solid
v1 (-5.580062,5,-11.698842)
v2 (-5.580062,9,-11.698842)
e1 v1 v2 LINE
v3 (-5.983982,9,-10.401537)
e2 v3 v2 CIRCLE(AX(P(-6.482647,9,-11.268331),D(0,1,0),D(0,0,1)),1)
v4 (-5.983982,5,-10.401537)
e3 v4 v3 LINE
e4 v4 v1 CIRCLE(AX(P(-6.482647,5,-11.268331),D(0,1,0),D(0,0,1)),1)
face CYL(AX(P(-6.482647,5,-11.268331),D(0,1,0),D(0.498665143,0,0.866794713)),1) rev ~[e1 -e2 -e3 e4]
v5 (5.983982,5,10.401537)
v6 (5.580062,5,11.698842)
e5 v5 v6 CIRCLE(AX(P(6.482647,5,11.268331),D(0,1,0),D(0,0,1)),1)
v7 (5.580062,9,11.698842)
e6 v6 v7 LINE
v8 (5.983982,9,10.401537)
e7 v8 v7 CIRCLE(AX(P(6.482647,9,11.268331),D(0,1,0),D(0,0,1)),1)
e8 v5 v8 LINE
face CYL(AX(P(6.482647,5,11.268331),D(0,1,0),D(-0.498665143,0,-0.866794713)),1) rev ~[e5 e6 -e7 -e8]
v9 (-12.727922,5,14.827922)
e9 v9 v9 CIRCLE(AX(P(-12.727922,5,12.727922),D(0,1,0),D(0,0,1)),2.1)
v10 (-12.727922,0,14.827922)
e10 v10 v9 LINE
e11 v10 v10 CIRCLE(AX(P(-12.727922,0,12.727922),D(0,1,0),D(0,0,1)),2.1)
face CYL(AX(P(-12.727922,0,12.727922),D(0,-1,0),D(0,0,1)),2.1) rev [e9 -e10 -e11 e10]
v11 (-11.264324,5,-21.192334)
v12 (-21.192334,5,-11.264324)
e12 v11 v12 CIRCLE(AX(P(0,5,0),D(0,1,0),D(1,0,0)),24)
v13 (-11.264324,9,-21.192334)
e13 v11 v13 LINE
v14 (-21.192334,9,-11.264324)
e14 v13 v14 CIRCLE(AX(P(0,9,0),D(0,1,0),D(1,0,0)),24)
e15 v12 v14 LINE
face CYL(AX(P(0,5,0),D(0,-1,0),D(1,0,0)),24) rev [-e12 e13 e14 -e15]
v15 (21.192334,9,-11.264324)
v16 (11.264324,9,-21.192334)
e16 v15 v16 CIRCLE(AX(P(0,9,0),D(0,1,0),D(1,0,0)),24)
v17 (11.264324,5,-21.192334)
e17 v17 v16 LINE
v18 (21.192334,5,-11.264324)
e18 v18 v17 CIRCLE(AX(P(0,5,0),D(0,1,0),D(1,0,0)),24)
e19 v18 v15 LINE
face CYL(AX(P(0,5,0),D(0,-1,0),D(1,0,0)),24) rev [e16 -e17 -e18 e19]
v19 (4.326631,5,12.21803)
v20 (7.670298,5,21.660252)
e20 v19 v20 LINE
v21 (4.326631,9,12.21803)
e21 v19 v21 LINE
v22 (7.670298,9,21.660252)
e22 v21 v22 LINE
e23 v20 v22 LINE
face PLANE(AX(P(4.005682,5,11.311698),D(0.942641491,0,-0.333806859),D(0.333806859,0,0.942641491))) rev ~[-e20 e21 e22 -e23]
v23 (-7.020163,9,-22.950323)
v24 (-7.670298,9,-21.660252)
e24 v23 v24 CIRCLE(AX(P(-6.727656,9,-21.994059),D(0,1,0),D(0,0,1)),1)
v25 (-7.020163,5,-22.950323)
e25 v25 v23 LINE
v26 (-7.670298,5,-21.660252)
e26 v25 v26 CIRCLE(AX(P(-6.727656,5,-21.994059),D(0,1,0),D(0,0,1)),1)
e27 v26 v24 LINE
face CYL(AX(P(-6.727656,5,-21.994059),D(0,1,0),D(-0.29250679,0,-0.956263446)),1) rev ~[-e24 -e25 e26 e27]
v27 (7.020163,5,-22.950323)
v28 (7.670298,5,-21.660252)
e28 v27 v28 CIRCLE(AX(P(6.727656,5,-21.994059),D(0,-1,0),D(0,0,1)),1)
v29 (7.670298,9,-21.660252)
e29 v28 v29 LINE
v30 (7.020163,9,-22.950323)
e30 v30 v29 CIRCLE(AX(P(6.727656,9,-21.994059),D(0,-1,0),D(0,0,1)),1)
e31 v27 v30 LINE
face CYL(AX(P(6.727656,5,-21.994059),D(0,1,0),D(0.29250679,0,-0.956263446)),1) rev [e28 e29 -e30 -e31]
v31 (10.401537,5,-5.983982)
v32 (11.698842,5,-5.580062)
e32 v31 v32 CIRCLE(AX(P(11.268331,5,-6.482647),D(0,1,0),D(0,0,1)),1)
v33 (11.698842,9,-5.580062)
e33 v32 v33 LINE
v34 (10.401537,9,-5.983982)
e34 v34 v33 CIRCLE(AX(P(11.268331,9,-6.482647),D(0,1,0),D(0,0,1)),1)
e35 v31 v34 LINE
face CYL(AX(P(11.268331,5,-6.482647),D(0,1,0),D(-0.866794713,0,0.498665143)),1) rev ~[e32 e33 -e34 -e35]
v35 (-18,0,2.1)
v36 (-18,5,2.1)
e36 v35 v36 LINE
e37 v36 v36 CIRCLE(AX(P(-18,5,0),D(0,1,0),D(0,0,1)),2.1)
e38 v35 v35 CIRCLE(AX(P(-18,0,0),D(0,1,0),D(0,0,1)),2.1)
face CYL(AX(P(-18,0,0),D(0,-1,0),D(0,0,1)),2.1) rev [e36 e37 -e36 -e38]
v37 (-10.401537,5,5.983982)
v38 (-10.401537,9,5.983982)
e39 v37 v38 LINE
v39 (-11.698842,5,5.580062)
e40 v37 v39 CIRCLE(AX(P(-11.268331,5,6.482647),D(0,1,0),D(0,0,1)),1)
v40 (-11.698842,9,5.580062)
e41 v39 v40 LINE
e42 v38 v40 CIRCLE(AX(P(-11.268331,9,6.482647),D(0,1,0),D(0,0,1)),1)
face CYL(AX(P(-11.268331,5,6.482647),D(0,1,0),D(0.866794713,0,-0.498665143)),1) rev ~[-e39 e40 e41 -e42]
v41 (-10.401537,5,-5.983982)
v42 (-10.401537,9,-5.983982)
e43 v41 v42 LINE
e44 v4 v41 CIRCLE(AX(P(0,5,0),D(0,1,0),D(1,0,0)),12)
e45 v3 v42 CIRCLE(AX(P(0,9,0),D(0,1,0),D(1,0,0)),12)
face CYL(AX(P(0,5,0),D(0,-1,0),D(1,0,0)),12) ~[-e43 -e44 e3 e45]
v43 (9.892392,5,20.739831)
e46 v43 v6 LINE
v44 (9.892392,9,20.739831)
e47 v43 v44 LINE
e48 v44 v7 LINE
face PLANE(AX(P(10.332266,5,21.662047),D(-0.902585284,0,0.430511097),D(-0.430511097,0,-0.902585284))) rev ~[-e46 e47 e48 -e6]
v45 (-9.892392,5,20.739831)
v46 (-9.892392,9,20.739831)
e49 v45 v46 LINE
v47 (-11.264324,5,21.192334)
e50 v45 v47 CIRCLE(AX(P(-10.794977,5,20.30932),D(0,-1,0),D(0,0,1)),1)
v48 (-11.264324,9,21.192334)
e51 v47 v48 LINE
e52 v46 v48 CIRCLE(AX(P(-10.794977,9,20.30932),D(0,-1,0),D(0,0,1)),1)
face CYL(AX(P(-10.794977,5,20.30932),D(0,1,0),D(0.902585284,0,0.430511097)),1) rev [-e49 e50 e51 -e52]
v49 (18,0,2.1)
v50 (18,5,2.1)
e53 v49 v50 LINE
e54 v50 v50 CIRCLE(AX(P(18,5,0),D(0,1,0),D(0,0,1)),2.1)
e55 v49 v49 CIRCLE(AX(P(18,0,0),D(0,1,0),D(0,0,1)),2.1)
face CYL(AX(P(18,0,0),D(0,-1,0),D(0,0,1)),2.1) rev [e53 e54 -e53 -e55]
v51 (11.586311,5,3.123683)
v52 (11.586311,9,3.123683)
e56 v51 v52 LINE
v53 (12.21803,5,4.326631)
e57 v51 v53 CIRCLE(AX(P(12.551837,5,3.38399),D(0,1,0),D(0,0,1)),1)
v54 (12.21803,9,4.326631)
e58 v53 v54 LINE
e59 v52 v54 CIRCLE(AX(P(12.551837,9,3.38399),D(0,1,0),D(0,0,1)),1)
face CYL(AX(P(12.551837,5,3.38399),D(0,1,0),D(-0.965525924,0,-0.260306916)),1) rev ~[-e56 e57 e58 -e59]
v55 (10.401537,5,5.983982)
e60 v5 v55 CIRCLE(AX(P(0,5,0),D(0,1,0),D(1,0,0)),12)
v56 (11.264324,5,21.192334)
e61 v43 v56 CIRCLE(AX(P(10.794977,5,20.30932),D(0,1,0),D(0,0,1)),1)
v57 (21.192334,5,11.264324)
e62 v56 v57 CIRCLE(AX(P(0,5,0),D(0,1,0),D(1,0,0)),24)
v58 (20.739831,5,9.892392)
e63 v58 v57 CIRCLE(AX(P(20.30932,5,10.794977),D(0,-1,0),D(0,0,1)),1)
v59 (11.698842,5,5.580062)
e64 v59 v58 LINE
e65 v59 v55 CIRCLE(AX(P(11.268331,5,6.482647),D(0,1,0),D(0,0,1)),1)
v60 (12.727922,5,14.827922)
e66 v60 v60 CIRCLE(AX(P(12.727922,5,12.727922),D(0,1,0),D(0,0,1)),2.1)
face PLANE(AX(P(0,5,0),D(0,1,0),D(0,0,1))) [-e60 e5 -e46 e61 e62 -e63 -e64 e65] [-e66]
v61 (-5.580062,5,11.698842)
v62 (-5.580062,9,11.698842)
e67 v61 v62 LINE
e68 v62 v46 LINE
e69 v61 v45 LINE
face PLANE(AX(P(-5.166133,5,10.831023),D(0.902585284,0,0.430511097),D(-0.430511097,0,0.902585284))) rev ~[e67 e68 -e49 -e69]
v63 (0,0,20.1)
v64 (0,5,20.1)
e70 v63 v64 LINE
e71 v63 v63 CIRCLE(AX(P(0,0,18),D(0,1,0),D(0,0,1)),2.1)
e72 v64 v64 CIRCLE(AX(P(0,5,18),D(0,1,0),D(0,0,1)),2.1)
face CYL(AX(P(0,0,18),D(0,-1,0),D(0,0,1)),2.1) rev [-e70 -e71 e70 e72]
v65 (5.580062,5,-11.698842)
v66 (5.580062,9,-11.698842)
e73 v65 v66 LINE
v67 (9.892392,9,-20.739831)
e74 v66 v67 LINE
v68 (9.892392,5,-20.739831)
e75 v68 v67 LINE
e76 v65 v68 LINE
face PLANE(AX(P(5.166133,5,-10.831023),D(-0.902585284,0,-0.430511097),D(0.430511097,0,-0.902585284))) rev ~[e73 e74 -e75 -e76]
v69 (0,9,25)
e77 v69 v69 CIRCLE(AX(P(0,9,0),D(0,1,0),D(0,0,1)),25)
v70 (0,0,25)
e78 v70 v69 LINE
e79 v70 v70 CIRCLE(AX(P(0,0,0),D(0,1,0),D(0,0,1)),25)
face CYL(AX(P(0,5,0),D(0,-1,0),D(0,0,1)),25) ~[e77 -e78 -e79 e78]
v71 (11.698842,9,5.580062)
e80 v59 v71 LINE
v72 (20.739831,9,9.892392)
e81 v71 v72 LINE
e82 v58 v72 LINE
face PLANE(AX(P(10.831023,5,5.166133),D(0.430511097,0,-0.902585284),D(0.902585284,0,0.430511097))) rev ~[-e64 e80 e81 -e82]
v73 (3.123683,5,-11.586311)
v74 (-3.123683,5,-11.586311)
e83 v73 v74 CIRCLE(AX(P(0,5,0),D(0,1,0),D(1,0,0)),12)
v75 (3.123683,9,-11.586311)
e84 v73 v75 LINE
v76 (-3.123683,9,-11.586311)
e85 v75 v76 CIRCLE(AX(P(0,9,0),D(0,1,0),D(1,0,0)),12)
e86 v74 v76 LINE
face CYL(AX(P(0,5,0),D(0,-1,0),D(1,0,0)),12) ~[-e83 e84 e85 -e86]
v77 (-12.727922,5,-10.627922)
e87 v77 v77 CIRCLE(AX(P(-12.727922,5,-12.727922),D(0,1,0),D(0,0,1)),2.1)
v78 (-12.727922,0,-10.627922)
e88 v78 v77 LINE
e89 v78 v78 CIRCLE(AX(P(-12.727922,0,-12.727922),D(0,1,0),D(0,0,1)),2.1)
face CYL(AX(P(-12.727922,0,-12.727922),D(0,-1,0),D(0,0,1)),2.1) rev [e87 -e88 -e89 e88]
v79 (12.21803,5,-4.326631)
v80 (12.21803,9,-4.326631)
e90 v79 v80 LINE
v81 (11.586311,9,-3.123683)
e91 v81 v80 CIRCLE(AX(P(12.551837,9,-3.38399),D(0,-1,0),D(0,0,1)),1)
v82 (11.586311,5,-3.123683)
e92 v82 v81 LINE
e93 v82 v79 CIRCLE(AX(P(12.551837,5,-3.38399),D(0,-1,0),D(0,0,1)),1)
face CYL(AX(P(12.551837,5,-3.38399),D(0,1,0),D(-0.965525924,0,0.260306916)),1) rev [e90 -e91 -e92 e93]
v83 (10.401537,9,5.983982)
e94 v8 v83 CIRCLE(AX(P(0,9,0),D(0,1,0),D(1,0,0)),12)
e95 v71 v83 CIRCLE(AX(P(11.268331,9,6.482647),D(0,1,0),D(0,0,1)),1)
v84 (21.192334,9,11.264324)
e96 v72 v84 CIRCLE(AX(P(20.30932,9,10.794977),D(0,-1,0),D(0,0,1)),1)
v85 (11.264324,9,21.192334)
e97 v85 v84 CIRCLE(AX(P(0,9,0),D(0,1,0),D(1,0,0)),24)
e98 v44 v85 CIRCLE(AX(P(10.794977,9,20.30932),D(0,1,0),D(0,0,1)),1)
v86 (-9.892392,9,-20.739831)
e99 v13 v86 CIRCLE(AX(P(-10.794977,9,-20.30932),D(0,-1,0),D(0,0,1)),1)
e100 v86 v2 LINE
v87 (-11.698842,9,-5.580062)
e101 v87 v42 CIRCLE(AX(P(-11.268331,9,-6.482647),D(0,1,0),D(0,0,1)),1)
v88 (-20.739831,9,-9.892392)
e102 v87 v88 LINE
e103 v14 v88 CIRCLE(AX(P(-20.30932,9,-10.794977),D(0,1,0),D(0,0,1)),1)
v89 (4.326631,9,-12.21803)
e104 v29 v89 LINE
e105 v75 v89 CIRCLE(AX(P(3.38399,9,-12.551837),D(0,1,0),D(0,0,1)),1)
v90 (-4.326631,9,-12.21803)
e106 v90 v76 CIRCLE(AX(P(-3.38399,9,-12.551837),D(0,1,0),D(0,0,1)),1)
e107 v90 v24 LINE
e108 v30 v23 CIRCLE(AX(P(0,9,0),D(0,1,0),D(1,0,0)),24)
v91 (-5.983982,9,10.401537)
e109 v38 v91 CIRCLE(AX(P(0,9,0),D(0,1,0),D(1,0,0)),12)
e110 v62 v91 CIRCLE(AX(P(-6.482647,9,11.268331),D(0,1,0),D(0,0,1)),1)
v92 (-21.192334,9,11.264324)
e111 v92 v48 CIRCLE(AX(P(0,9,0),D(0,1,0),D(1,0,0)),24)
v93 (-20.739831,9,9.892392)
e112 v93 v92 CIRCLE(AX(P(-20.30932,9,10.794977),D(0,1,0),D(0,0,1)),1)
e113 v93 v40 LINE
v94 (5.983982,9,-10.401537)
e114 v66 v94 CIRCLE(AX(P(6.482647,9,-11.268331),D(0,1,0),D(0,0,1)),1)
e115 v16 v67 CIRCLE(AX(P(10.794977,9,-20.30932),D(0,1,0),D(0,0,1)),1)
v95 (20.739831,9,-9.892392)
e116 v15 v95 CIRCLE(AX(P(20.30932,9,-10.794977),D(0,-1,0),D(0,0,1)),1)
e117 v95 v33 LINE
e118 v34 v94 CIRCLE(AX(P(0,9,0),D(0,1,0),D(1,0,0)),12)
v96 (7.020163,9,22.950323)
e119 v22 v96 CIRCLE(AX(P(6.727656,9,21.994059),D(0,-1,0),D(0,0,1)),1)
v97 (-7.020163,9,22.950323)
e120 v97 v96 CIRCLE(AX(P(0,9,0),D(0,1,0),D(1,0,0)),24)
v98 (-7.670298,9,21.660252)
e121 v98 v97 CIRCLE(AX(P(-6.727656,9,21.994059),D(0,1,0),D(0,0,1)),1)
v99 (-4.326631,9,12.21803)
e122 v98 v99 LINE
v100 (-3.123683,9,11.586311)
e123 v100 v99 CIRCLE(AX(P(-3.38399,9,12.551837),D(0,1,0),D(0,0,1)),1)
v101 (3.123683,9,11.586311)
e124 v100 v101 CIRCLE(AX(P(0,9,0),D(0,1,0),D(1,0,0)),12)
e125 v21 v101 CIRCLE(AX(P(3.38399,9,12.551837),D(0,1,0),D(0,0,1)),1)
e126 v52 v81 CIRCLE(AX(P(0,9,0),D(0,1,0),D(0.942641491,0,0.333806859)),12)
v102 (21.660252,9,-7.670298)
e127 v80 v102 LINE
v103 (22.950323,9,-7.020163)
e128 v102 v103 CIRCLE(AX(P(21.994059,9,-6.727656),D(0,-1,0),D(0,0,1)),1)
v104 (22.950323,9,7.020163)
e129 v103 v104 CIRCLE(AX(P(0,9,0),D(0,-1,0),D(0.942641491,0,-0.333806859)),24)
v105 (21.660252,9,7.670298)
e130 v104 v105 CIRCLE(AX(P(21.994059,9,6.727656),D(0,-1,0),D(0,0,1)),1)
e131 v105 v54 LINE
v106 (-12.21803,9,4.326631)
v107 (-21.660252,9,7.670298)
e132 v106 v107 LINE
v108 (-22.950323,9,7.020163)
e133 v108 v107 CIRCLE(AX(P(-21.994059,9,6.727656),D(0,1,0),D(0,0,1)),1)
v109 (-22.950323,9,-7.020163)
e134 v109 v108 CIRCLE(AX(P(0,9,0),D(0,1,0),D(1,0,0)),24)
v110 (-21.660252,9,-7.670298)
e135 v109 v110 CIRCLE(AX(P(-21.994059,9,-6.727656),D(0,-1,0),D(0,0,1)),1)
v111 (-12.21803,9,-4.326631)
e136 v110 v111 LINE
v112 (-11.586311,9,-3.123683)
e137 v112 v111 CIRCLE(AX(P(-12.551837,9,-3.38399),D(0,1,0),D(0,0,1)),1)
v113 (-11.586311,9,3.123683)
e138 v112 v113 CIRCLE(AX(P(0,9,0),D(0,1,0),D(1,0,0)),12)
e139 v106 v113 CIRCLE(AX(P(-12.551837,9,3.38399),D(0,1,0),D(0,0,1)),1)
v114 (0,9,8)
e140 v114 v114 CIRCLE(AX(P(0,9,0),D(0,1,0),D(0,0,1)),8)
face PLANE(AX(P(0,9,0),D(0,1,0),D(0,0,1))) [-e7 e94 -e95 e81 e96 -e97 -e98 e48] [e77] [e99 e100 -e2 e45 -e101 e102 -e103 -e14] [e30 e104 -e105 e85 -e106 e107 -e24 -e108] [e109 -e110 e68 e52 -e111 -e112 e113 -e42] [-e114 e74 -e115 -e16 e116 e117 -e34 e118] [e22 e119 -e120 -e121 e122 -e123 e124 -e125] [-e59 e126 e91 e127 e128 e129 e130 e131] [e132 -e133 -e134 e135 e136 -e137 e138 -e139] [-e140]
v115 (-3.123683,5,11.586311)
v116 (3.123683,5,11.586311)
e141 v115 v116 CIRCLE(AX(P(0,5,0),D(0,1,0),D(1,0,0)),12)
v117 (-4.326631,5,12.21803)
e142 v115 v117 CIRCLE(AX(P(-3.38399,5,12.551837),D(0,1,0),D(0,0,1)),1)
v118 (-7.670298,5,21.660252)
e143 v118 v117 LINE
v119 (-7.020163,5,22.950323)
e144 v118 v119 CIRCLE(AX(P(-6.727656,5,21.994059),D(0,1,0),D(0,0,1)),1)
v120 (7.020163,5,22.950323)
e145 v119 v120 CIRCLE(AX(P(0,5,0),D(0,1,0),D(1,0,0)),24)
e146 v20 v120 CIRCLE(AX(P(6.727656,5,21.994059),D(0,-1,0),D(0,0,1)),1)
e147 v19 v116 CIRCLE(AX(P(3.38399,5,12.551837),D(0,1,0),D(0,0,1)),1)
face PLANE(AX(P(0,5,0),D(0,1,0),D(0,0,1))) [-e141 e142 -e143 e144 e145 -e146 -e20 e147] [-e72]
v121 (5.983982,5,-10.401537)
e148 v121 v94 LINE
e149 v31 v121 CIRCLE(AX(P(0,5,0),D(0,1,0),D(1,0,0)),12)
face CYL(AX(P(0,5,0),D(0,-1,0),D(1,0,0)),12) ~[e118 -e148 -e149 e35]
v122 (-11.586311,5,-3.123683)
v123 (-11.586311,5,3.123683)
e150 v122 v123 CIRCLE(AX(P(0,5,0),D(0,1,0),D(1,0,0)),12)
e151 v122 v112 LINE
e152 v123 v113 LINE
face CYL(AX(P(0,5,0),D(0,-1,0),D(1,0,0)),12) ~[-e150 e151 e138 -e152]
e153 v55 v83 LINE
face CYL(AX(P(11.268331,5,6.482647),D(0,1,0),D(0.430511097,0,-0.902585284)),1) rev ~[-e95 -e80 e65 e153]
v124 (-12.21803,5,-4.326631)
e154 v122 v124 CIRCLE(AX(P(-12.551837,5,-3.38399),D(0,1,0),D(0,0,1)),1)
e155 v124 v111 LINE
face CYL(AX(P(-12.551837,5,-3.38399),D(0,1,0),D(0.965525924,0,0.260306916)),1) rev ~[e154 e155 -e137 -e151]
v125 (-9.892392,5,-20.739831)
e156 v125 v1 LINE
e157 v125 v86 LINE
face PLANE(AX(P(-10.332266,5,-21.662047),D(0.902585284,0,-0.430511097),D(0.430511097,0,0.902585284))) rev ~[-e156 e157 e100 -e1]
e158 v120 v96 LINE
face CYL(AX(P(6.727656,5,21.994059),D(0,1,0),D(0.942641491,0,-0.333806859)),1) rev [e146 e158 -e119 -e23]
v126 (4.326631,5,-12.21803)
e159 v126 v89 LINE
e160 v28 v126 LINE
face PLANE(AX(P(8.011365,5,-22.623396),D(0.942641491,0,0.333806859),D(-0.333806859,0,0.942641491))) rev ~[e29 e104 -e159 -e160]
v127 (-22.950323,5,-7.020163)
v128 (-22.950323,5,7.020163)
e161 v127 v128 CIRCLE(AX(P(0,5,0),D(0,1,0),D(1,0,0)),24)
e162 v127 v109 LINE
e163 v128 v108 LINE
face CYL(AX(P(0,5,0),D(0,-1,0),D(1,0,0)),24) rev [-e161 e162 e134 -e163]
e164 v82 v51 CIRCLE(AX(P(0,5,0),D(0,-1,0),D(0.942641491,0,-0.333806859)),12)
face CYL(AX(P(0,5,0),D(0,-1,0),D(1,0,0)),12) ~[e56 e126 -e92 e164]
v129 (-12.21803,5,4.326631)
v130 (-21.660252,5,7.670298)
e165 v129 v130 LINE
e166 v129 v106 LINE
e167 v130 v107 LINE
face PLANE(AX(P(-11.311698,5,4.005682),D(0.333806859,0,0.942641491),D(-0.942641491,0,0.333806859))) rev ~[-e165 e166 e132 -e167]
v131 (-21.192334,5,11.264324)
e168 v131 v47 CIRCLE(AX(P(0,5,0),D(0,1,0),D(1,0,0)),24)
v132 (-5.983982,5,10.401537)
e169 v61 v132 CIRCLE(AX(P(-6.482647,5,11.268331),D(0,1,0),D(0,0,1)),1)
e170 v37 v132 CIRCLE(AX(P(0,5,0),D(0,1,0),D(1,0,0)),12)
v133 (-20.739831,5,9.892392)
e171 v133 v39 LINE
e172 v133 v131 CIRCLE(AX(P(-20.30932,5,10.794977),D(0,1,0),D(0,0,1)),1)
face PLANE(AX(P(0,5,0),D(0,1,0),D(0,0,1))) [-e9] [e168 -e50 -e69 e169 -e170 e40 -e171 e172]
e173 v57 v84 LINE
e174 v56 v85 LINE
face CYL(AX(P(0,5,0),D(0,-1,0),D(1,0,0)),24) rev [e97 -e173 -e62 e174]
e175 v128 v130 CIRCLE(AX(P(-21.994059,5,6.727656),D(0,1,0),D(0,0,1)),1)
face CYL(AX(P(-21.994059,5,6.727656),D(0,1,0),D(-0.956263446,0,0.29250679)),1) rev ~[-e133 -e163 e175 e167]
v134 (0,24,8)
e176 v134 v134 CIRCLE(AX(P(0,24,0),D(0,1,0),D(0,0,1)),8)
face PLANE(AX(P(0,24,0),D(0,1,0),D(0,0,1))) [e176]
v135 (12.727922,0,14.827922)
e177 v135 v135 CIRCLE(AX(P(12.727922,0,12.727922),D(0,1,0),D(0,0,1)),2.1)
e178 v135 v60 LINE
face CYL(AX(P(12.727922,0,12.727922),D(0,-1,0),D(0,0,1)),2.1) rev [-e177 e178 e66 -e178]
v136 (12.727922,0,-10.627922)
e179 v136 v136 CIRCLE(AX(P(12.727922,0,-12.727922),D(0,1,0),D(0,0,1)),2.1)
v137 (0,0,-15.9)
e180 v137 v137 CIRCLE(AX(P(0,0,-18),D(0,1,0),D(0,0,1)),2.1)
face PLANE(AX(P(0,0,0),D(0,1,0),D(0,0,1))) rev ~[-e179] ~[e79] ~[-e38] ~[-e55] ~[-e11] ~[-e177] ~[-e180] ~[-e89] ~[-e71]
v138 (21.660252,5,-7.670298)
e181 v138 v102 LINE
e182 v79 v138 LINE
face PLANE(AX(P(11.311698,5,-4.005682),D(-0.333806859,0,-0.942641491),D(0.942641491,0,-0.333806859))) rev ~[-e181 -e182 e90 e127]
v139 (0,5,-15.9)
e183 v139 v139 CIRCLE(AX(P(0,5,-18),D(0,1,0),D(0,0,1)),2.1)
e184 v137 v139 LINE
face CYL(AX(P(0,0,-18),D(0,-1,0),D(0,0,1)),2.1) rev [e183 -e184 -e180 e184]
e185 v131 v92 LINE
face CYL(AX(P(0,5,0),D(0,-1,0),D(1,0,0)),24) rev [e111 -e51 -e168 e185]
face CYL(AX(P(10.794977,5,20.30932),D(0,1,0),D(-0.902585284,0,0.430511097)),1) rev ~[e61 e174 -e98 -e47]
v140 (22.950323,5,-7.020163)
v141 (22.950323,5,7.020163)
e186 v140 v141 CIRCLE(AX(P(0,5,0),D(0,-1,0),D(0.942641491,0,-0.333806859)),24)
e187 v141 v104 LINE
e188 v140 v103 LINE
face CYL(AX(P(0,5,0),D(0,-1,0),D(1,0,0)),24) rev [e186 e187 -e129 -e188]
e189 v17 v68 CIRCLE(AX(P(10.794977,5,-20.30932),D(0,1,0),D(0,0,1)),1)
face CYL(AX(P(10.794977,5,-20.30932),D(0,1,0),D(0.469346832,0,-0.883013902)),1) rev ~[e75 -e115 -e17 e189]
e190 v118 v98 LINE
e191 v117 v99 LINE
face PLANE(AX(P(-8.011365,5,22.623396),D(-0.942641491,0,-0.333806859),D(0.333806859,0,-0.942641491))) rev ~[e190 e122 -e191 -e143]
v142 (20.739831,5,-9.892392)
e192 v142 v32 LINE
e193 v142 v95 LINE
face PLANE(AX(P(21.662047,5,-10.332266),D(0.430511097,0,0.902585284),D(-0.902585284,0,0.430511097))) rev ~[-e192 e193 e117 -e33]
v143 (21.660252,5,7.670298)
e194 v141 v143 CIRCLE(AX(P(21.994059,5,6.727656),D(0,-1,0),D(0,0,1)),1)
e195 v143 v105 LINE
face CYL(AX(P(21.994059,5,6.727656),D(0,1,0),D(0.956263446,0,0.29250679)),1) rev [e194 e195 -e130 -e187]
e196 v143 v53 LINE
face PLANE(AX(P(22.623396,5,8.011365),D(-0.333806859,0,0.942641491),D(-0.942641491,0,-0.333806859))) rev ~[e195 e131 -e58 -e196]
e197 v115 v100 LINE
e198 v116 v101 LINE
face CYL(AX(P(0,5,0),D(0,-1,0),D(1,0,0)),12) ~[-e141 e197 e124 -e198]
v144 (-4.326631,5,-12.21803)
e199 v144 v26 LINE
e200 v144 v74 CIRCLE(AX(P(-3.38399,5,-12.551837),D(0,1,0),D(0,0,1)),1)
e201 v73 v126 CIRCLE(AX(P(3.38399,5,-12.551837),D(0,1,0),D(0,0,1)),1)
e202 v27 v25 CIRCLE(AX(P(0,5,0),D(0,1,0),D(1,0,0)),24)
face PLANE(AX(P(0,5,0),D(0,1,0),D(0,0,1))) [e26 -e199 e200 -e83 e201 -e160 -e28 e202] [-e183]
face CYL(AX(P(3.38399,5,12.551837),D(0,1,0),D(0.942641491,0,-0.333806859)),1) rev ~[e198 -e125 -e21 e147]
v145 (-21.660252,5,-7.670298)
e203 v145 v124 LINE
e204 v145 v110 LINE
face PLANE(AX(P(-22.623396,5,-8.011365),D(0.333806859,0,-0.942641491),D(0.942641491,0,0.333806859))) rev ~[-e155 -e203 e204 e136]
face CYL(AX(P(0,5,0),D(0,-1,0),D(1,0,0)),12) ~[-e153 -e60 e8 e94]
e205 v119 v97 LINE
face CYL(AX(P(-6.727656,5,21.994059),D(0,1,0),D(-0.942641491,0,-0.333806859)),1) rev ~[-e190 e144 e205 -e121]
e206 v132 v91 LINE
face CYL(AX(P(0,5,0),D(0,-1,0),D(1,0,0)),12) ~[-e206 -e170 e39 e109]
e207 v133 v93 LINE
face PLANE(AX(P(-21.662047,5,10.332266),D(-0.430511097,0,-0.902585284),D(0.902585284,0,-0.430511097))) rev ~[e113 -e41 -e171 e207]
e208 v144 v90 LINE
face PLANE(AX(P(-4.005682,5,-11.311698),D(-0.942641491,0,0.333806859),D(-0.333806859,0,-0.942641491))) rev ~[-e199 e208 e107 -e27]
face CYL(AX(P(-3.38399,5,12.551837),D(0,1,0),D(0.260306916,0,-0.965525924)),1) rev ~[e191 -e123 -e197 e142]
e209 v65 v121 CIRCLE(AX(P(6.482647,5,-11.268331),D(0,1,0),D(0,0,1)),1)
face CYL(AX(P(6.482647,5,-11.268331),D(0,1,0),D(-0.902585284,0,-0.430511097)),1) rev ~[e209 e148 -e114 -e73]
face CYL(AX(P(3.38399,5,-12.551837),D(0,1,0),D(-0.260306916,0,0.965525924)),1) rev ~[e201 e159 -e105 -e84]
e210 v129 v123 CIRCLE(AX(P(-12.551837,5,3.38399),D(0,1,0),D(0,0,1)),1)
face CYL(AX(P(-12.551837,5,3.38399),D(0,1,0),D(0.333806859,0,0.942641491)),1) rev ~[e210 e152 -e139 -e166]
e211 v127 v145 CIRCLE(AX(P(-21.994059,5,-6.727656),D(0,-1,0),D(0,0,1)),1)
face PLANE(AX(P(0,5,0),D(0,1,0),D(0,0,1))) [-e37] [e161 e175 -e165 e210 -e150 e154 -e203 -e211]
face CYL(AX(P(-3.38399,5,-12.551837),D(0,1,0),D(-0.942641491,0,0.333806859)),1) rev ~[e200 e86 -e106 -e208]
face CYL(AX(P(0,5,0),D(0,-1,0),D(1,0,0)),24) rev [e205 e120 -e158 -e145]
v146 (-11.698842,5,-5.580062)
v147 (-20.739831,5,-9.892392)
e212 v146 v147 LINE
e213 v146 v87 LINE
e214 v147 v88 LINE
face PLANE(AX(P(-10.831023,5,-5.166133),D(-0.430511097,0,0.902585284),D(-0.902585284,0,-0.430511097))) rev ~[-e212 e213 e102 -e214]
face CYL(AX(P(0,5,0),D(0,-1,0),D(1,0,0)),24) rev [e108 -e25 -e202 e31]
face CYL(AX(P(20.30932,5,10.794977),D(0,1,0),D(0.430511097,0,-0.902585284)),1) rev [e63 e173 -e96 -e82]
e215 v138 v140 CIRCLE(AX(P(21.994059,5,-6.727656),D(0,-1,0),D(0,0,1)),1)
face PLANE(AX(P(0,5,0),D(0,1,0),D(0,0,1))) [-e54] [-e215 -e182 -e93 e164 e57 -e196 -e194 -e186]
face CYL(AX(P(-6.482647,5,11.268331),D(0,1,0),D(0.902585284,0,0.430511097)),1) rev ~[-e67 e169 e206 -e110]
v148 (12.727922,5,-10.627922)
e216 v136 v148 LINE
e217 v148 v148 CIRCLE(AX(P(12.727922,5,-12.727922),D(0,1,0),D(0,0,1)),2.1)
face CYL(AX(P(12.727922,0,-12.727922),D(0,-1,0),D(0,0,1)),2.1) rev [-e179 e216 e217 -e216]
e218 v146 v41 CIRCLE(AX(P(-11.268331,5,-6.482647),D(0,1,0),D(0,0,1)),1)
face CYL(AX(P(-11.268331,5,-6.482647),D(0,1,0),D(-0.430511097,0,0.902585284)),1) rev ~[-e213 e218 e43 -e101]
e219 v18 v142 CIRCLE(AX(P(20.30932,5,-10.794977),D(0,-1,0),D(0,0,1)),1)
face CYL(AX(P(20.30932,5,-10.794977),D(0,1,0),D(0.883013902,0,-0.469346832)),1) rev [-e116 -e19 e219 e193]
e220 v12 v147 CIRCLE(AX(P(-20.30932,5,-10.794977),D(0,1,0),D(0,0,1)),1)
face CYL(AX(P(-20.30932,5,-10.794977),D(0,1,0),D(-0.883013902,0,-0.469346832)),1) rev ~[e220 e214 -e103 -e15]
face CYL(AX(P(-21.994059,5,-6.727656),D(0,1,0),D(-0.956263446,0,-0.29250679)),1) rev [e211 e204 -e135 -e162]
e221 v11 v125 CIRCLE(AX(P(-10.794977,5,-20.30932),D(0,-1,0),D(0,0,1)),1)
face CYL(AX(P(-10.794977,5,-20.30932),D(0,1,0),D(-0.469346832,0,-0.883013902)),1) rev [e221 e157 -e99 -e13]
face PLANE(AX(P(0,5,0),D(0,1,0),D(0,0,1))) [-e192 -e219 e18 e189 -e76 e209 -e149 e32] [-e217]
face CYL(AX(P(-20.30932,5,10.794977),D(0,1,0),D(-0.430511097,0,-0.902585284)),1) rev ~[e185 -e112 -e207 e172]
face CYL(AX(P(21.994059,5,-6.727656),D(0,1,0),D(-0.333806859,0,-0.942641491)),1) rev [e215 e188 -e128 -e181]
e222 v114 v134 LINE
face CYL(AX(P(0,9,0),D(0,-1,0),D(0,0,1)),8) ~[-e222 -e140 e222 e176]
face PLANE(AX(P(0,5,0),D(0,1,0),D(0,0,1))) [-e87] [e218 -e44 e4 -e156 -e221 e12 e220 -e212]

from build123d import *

# Parameters (mm, degrees)
SKETCH_1_R      = 25
SKETCH_1_R_2    = 2.1
EXTRUDE_1_DEPTH = 5
SKETCH_2_R      = 25
SKETCH_2_R_2    = 24
SKETCH_2_R_3    = 12
EXTRUDE_2_DEPTH = 4
FILLET_1_R      = 1
SKETCH_3_R      = 8
EXTRUDE_3_DEPTH = 15


with BuildPart() as part:
    # Эскиз1 → Бобышка-Вытянуть1 (new body)
    with BuildSketch(Plane(origin=(0, 0, 0), x_dir=(1, 0, 0), z_dir=(0, 1, 0))):
        with Locations(Location((0, 0, 0), (0, 0, 270))):
            Circle(SKETCH_1_R)
        with Locations(Location((-18, 0, 0), (0, 0, 270))):
            Circle(SKETCH_1_R_2, mode=Mode.SUBTRACT)
        with Locations(Location((-12.727922061, 12.727922061, 0), (0, 0, 270))):
            Circle(SKETCH_1_R_2, mode=Mode.SUBTRACT)
        with Locations(Location((0, 18, 0), (0, 0, 270))):
            Circle(SKETCH_1_R_2, mode=Mode.SUBTRACT)
        with Locations(Location((12.727922061, 12.727922061, 0), (0, 0, 270))):
            Circle(SKETCH_1_R_2, mode=Mode.SUBTRACT)
        with Locations(Location((18, 0, 0), (0, 0, 270))):
            Circle(SKETCH_1_R_2, mode=Mode.SUBTRACT)
        with Locations(Location((12.727922061, -12.727922061, 0), (0, 0, 270))):
            Circle(SKETCH_1_R_2, mode=Mode.SUBTRACT)
        with Locations(Location((0, -18, 0), (0, 0, 270))):
            Circle(SKETCH_1_R_2, mode=Mode.SUBTRACT)
        with Locations(Location((-12.727922061, -12.727922061, 0), (0, 0, 270))):
            Circle(SKETCH_1_R_2, mode=Mode.SUBTRACT)
    extrude(amount=EXTRUDE_1_DEPTH)

    # Эскиз2 → Бобышка-Вытянуть2 (add)
    # profile 1 of 10: a face of its own
    with BuildSketch(Plane(origin=(0, 5, 0), x_dir=(1, 0, 0), z_dir=(0, 1, 0))):
        with Locations(Location((0, 0, 0), (0, 0, 270))):
            Circle(SKETCH_2_R)
        Circle(SKETCH_2_R_2, mode=Mode.SUBTRACT)
    # profile 2 of 10: a face of its own
    with BuildSketch(Plane(origin=(0, 5, 0), x_dir=(1, 0, 0), z_dir=(0, 1, 0))):
        Circle(SKETCH_2_R_3)
    # profile 3 of 10: a face of its own
    with BuildSketch(Plane(origin=(0, 5, 0), x_dir=(1, 0, 0), z_dir=(0, 1, 0))):
        with BuildLine():
            Line((-10.332266323, 21.662046824), (-5.166133162, 10.831023412))
            ThreePointArc((-5.166133162, 10.831023412), (-4.592201188, 11.08655439), (-4.005682311, 11.311697893))
            Line((-4.005682311, 11.311697893), (-8.011364622, 22.623395786))
            ThreePointArc((-8.011364622, 22.623395786), (-9.184402377, 22.17310878), (-10.332266323, 21.662046824))
        make_face()
    # profile 4 of 10: a face of its own
    with BuildSketch(Plane(origin=(0, 5, 0), x_dir=(1, 0, 0), z_dir=(0, 1, 0))):
        with BuildLine():
            Line((8.011364622, 22.623395786), (4.005682311, 11.311697893))
            ThreePointArc((4.005682311, 11.311697893), (4.592201188, 11.08655439), (5.166133162, 10.831023412))
            Line((5.166133162, 10.831023412), (10.332266323, 21.662046824))
            ThreePointArc((10.332266323, 21.662046824), (9.184402377, 22.17310878), (8.011364622, 22.623395786))
        make_face()
    # profile 5 of 10: a face of its own
    with BuildSketch(Plane(origin=(0, 5, 0), x_dir=(1, 0, 0), z_dir=(0, 1, 0))):
        with BuildLine():
            ThreePointArc((10.831023412, 5.166133162), (11.08655439, 4.592201188), (11.311697893, 4.005682311))
            Line((11.311697893, 4.005682311), (22.623395786, 8.011364622))
            ThreePointArc((22.623395786, 8.011364622), (22.17310878, 9.184402377), (21.662046824, 10.332266323))
            Line((21.662046824, 10.332266323), (10.831023412, 5.166133162))
        make_face()
    # profile 6 of 10: a face of its own
    with BuildSketch(Plane(origin=(0, 5, 0), x_dir=(1, 0, 0), z_dir=(0, 1, 0))):
        with BuildLine():
            ThreePointArc((11.311697893, -4.005682311), (11.08655439, -4.592201188), (10.831023412, -5.166133162))
            Line((10.831023412, -5.166133162), (21.662046824, -10.332266323))
            ThreePointArc((21.662046824, -10.332266323), (22.17310878, -9.184402377), (22.623395786, -8.011364622))
            Line((22.623395786, -8.011364622), (11.311697893, -4.005682311))
        make_face()
    # profile 7 of 10: a face of its own
    with BuildSketch(Plane(origin=(0, 5, 0), x_dir=(1, 0, 0), z_dir=(0, 1, 0))):
        with BuildLine():
            ThreePointArc((5.166133162, -10.831023412), (4.592201188, -11.08655439), (4.005682311, -11.311697893))
            Line((4.005682311, -11.311697893), (8.011364622, -22.623395786))
            ThreePointArc((8.011364622, -22.623395786), (9.184402377, -22.17310878), (10.332266323, -21.662046824))
            Line((10.332266323, -21.662046824), (5.166133162, -10.831023412))
        make_face()
    # profile 8 of 10: a face of its own
    with BuildSketch(Plane(origin=(0, 5, 0), x_dir=(1, 0, 0), z_dir=(0, 1, 0))):
        with BuildLine():
            ThreePointArc((-4.005682311, -11.311697893), (-4.592201188, -11.08655439), (-5.166133162, -10.831023412))
            Line((-5.166133162, -10.831023412), (-10.332266323, -21.662046824))
            ThreePointArc((-10.332266323, -21.662046824), (-9.184402377, -22.17310878), (-8.011364622, -22.623395786))
            Line((-8.011364622, -22.623395786), (-4.005682311, -11.311697893))
        make_face()
    # profile 9 of 10: a face of its own
    with BuildSketch(Plane(origin=(0, 5, 0), x_dir=(1, 0, 0), z_dir=(0, 1, 0))):
        with BuildLine():
            Line((-21.662046824, -10.332266323), (-10.831023412, -5.166133162))
            ThreePointArc((-10.831023412, -5.166133162), (-11.08655439, -4.592201188), (-11.311697893, -4.005682311))
            Line((-11.311697893, -4.005682311), (-22.623395786, -8.011364622))
            ThreePointArc((-22.623395786, -8.011364622), (-22.17310878, -9.184402377), (-21.662046824, -10.332266323))
        make_face()
    # profile 10 of 10: a face of its own
    with BuildSketch(Plane(origin=(0, 5, 0), x_dir=(1, 0, 0), z_dir=(0, 1, 0))):
        with BuildLine():
            Line((-22.623395786, 8.011364622), (-11.311697893, 4.005682311))
            ThreePointArc((-11.311697893, 4.005682311), (-11.08655439, 4.592201188), (-10.831023412, 5.166133162))
            Line((-10.831023412, 5.166133162), (-21.662046824, 10.332266323))
            ThreePointArc((-21.662046824, 10.332266323), (-22.17310878, 9.184402377), (-22.623395786, 8.011364622))
        make_face()
    extrude(amount=EXTRUDE_2_DEPTH)

    # Скругление1
    fillet_1_edges = [part.edges().sort_by_distance(p)[0] for p in [
        (5.166133162, 7, 10.831023412),
        (10.831023412, 7, 5.166133162),
        (21.662046824, 7, 10.332266323),
        (22.623395786, 7, 8.011364622),
        (11.311697893, 7, 4.005682311),
        (11.311697893, 7, -4.005682311),
        (21.662046824, 7, -10.332266323),
        (10.831023412, 7, -5.166133162),
        (5.166133162, 7, -10.831023412),
        (8.011364622, 7, -22.623395786),
        (4.005682311, 7, -11.311697893),
        (-4.005682311, 7, -11.311697893),
        (-10.332266323, 7, -21.662046824),
        (-5.166133162, 7, -10.831023412),
        (-10.831023412, 7, -5.166133162),
        (-22.623395786, 7, -8.011364622),
        (-11.311697893, 7, -4.005682311),
        (-11.311697893, 7, 4.005682311),
        (-21.662046824, 7, 10.332266323),
        (-10.831023412, 7, 5.166133162),
        (-5.166133162, 7, 10.831023412),
        (-8.011364622, 7, 22.623395786),
        (-4.005682311, 7, 11.311697893),
        (4.005682311, 7, 11.311697893),
        (10.332266323, 7, 21.662046824),
        (22.623395786, 7, -8.011364622),
        (10.332266323, 7, -21.662046824),
        (-8.011364622, 7, -22.623395786),
        (-21.662046824, 7, -10.332266323),
        (-22.623395786, 7, 8.011364622),
        (-10.332266323, 7, 21.662046824),
        (8.011364622, 7, 22.623395786),
    ]]
    fillet(fillet_1_edges, radius=FILLET_1_R)

    # Эскиз3 → Бобышка-Вытянуть3 (add)
    with BuildSketch(Plane(origin=(0, 9, 0), x_dir=(1, 0, 0), z_dir=(0, 1, 0))):
        with Locations(Location((0, 0, 0), (0, 0, 270))):
            Circle(SKETCH_3_R)
    extrude(amount=EXTRUDE_3_DEPTH)


solid = part.part
